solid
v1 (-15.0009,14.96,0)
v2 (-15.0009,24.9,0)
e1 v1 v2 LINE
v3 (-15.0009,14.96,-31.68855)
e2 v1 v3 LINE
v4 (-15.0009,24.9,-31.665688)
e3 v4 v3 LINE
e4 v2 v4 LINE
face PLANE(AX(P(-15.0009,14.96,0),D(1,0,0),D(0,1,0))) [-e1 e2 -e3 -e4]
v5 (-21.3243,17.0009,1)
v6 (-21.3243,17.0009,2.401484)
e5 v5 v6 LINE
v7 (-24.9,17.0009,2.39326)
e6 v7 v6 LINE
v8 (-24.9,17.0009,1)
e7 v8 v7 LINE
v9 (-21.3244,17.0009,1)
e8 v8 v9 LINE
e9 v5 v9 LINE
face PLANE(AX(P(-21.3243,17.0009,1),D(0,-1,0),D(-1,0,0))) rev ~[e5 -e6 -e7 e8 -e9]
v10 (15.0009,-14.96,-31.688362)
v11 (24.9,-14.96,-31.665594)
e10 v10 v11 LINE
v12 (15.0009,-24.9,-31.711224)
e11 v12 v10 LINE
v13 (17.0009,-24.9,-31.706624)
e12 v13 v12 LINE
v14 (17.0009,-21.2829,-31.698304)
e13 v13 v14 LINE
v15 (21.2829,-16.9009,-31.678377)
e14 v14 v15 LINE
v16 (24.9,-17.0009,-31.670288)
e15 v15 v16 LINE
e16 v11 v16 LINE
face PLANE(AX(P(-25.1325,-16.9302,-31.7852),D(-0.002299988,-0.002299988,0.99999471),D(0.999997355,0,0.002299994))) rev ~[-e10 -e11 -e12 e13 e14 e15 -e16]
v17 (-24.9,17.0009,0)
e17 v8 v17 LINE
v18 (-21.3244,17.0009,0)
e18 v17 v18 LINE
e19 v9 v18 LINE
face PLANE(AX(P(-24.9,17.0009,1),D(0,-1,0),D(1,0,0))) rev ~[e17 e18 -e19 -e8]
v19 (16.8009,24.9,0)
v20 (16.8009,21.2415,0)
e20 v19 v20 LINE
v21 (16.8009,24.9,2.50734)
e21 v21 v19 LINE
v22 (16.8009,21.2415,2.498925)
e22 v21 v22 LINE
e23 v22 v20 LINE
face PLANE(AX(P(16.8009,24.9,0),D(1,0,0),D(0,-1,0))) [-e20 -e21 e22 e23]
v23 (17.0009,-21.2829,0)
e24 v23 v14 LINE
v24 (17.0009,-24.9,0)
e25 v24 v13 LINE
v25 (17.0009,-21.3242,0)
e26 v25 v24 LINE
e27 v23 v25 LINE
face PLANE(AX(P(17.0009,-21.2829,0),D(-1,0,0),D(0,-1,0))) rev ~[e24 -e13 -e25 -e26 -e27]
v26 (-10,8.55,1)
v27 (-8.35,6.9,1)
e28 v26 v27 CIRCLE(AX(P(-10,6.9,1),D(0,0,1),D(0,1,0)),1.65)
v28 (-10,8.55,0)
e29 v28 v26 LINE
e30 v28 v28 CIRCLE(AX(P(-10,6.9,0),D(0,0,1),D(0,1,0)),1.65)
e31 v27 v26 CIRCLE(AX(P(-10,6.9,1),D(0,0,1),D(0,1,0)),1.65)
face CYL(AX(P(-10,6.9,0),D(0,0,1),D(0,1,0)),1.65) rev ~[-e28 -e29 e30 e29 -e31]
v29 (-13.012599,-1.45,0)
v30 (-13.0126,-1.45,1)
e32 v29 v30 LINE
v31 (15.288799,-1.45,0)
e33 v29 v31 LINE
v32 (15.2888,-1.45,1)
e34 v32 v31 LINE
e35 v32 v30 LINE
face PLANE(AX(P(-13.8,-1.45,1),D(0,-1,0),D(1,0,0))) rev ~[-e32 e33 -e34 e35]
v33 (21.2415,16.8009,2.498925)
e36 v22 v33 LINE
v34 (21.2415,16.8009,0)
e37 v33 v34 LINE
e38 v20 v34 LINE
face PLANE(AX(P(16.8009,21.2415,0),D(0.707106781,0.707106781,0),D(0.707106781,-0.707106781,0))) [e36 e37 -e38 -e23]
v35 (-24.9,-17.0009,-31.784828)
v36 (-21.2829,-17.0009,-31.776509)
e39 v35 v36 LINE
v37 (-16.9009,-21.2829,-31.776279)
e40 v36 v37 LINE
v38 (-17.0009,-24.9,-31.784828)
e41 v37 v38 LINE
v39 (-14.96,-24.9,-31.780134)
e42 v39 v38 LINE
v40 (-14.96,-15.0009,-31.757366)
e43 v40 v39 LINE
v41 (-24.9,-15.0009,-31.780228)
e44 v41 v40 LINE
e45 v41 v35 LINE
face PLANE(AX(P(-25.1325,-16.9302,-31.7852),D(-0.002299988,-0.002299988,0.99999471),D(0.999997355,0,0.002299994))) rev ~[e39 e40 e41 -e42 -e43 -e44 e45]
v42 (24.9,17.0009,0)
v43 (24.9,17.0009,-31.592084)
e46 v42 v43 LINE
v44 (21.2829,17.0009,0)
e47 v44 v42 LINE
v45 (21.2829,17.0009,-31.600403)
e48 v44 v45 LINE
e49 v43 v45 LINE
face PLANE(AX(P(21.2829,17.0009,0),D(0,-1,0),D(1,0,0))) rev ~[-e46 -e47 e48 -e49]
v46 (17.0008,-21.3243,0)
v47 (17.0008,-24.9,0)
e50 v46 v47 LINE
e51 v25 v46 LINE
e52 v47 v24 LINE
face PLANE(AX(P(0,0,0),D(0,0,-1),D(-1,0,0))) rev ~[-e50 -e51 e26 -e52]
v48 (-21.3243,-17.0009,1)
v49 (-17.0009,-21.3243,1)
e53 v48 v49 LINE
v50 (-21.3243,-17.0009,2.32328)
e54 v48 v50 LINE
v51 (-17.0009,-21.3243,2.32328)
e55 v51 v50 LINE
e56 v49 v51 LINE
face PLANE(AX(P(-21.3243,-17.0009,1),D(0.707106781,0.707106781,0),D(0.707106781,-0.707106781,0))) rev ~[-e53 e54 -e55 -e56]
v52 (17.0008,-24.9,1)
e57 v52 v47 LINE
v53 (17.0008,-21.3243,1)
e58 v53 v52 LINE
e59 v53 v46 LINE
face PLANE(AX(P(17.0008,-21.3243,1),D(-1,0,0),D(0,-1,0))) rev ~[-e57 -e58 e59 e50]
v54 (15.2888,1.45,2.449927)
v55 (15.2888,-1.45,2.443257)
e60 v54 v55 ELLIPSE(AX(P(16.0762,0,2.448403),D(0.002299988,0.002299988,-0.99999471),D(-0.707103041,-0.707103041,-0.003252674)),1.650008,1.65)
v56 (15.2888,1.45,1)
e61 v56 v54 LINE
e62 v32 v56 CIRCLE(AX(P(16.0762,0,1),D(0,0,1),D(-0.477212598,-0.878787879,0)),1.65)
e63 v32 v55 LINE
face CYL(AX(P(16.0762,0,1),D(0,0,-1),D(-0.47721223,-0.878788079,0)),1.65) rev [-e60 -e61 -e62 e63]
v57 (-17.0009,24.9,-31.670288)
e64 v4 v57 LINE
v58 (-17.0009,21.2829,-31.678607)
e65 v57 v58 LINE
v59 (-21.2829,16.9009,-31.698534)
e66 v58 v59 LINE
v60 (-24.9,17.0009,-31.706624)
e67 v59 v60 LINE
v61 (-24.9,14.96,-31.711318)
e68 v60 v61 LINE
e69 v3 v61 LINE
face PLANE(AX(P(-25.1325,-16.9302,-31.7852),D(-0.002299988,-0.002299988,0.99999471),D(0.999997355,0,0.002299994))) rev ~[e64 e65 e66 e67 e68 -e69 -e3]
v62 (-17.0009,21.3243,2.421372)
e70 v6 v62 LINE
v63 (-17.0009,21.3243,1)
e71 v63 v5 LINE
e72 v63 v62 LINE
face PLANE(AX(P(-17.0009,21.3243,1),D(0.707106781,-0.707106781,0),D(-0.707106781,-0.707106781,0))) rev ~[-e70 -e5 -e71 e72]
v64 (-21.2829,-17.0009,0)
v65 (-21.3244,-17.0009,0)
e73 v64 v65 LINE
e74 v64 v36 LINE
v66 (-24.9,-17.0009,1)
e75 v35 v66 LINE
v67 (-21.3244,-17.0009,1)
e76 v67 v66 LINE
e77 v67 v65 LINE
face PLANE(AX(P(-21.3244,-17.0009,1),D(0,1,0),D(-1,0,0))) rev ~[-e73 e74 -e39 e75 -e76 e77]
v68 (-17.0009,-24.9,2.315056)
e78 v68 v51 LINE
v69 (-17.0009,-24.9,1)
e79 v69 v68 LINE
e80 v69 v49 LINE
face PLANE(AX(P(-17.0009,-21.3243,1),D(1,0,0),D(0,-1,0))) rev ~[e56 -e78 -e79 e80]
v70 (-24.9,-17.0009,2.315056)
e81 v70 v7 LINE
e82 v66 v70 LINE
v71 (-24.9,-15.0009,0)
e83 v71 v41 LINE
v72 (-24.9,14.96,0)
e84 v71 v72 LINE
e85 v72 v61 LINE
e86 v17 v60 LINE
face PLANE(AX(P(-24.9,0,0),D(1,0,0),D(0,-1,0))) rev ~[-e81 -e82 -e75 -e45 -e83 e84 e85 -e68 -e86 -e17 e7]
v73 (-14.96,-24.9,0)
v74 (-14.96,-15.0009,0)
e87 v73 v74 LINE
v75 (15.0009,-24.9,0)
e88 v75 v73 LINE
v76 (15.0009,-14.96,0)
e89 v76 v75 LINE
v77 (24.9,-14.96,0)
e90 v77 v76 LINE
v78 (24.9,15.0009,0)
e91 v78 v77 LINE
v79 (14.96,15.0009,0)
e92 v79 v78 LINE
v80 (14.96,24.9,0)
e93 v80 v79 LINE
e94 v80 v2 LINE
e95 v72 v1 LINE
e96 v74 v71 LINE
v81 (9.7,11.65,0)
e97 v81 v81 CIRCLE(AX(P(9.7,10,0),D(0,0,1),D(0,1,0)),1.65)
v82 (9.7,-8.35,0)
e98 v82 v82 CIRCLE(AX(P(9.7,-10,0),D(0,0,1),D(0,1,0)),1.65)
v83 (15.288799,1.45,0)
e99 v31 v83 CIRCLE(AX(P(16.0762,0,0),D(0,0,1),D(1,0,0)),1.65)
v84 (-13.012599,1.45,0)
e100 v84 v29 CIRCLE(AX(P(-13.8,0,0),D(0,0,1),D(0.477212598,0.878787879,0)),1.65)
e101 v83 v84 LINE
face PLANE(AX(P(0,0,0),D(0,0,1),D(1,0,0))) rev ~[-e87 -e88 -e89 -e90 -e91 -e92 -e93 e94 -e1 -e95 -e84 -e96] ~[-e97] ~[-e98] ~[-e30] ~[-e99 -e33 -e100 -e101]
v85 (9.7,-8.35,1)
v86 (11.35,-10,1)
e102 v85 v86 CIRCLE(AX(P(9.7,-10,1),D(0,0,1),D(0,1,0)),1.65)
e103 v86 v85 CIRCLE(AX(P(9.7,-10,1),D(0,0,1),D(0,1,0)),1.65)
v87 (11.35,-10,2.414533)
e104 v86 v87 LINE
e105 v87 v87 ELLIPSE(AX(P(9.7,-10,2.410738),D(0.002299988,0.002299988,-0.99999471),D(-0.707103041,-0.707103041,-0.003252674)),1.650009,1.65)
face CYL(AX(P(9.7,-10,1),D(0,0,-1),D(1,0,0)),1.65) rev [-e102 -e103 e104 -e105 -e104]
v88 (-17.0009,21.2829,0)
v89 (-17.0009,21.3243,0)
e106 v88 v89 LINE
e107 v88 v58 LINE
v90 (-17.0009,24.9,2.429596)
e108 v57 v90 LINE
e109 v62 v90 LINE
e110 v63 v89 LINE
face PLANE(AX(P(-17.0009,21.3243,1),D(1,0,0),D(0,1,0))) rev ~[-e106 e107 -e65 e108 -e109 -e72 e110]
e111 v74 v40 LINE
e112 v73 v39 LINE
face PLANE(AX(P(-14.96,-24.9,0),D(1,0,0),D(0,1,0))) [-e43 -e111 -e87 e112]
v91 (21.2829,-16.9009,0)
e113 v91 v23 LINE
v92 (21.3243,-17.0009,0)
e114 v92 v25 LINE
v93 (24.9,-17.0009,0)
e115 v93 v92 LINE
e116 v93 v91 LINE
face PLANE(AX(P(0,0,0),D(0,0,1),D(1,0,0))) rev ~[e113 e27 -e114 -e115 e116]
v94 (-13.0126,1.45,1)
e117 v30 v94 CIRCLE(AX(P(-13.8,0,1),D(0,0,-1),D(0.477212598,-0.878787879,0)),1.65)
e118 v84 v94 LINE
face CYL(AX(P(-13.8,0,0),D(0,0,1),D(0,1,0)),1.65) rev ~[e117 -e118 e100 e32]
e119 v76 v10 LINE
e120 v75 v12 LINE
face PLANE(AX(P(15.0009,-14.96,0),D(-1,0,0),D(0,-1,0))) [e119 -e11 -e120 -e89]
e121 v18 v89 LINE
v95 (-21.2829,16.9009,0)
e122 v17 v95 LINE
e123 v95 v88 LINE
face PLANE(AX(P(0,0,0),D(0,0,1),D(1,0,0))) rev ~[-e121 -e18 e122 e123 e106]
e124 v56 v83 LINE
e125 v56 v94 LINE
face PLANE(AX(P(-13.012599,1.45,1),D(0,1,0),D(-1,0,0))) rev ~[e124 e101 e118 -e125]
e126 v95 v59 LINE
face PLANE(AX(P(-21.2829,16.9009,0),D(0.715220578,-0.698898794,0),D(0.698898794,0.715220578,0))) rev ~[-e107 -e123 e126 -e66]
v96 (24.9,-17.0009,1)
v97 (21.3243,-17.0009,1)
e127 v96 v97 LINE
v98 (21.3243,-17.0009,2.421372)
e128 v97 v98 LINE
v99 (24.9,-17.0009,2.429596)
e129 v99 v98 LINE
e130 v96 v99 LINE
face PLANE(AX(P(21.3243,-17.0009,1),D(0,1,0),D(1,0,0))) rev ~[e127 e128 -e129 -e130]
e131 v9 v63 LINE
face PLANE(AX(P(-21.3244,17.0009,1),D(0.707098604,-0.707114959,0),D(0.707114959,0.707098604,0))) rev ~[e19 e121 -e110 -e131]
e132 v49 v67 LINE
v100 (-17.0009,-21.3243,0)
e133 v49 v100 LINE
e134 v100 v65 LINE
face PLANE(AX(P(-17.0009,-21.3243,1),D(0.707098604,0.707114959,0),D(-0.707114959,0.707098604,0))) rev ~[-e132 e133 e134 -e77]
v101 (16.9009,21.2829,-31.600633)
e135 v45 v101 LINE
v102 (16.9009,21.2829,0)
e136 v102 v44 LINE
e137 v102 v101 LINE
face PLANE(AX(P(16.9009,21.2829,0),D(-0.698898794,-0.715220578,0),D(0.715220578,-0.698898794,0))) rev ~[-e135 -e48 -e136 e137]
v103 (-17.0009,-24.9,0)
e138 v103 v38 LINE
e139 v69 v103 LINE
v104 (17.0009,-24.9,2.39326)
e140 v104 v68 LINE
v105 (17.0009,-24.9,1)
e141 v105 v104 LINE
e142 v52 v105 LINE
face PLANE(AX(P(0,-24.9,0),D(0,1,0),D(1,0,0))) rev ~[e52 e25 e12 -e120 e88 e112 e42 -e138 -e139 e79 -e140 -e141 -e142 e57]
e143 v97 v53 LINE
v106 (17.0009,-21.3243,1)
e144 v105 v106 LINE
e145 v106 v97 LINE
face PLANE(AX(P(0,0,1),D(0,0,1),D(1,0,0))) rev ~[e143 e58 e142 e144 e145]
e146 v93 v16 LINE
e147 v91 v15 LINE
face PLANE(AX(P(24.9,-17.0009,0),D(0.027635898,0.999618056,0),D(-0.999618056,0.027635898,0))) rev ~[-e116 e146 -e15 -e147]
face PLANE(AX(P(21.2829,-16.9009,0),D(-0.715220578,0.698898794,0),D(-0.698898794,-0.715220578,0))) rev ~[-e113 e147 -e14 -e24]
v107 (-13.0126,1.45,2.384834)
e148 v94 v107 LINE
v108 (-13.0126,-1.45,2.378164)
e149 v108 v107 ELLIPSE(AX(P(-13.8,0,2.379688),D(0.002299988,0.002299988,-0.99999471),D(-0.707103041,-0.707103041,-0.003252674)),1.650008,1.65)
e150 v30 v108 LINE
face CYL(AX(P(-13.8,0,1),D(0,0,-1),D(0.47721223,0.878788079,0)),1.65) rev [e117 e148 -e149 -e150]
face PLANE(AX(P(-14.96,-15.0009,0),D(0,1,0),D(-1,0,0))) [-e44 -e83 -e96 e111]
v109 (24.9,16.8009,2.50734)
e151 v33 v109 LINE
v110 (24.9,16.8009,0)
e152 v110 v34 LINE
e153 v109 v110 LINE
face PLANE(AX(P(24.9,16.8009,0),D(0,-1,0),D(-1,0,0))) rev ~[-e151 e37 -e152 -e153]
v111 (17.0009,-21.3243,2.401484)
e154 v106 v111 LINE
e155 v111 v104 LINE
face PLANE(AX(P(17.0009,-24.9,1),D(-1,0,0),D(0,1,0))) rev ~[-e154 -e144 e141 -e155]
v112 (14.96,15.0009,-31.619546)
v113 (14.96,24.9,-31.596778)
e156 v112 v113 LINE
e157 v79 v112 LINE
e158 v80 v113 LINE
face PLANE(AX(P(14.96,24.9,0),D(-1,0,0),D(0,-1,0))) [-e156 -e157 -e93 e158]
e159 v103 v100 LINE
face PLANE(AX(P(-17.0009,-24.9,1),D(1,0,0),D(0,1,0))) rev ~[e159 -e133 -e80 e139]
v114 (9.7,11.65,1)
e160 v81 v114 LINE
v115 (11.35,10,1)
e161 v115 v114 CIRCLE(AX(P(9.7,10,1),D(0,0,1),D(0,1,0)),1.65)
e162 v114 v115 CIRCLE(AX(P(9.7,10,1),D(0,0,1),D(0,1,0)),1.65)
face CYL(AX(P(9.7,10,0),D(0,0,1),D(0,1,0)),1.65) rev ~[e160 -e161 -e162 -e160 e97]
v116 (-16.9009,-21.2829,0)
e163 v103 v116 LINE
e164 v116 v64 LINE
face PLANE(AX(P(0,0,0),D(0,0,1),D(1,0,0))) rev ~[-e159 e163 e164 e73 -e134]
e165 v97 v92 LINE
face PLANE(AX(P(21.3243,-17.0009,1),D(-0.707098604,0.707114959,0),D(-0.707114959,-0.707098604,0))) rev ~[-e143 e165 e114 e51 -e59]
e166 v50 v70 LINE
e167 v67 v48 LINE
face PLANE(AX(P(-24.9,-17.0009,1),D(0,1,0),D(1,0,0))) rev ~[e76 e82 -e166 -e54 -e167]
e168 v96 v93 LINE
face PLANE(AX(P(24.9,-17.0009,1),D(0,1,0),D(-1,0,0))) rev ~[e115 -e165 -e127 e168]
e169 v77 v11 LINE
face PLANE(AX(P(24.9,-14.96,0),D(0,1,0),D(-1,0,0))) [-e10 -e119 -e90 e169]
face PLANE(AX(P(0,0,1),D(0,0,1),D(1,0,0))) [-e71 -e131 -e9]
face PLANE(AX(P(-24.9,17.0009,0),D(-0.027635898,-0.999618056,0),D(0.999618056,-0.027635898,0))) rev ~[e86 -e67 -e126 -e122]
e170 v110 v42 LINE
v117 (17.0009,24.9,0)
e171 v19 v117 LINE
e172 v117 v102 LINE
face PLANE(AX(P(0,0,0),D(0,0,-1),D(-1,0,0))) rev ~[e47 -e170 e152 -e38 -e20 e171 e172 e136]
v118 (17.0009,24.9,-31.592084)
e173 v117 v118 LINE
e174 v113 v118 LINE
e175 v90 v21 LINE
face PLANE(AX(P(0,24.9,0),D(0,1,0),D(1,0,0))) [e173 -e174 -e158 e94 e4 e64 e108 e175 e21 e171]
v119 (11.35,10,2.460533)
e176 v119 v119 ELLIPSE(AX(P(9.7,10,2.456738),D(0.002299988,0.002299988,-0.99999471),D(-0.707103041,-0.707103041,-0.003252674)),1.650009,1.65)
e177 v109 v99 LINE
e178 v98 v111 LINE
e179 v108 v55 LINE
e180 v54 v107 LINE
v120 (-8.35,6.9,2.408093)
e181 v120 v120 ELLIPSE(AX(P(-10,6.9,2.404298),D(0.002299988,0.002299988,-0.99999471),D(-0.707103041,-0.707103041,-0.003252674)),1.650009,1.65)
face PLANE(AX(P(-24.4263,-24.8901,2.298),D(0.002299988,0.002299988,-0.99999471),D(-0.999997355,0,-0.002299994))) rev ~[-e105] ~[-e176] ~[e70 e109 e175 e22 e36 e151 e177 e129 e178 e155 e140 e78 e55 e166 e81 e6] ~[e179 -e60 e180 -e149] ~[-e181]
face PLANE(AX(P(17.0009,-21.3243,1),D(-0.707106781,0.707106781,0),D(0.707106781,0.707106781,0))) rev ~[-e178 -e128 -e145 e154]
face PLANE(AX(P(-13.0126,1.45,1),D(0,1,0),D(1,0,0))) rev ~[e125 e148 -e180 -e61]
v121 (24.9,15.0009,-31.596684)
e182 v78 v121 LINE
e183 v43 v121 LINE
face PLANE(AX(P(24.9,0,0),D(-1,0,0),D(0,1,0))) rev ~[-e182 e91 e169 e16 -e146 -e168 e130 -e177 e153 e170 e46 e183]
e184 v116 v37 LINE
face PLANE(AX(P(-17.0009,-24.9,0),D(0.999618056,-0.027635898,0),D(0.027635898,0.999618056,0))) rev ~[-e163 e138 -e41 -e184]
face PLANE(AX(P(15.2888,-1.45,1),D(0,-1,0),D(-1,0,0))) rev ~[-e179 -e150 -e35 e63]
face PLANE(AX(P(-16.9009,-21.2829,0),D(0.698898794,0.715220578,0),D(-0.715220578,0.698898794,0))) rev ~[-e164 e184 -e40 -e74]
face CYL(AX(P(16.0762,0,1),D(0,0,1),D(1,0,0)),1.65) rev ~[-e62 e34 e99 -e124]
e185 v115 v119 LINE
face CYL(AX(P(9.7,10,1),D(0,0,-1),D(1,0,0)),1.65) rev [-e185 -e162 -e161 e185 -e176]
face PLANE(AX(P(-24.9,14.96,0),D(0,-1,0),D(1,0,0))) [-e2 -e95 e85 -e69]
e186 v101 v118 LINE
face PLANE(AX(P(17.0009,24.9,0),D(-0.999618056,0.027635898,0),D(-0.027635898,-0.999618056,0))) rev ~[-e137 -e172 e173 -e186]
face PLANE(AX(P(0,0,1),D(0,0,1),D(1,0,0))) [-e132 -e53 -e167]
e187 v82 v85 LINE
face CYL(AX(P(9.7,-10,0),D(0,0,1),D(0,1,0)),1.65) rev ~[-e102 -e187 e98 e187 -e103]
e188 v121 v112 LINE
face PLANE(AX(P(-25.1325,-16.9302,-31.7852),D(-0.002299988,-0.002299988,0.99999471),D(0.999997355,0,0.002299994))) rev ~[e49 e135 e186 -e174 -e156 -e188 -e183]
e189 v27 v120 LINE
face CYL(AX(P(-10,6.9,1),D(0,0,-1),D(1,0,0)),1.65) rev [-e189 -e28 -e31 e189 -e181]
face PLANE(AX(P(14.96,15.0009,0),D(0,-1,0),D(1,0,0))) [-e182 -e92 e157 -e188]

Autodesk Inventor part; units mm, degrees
ref_plane "Work Plane1" through (-29.1, -14.5, 2.4) normal (0, 0, -1) x (0, 1, 0)
ref_plane "Work Plane2" through (-13.8999, -10.5497, 2.25) normal (0, 0, -1) x (0, 1, 0)
ref_plane "Work Plane4" through (-17.3325, -17.0101, 2.3331) normal (0.0023, 0.0023, -1) x (0, 1, 0.0023)
sketch "Sketch1" plane through (0, 0, 0) normal (0, 0, 1) x (1, 0, 0)
  line L0 (-34.86, 0) -> (34.86, 0) construction
  line L1 (0, -34.86) -> (0, 34.86) construction
  line L2 (0, 0) -> (11.1575, 11.1575) construction
  line L3 (0, 0) -> (15.7791, 0) construction
  line L4 (0, 24.9) -> (16.8009, 24.9)
  line L5 (16.8009, 24.9) -> (16.8009, 21.2415)
  line L6 (16.8009, 21.2415) -> (19.0212, 19.0212)
  line L7 (24.9, 0) -> (24.9, 16.8009)
  line L8 (24.9, 16.8009) -> (21.2415, 16.8009)
  line L9 (21.2415, 16.8009) -> (19.0212, 19.0212)
  line L10 (0, -24.9) -> (16.8009, -24.9)
  line L11 (16.8009, -24.9) -> (16.8009, -21.2415)
  line L12 (16.8009, -21.2415) -> (19.0212, -19.0212)
  line L13 (24.9, 0) -> (24.9, -16.8009)
  line L14 (24.9, -16.8009) -> (21.2415, -16.8009)
  line L15 (21.2415, -16.8009) -> (19.0212, -19.0212)
  line L16 (0, 24.9) -> (-16.8009, 24.9)
  line L17 (-16.8009, 24.9) -> (-16.8009, 21.2415)
  line L18 (-16.8009, 21.2415) -> (-19.0212, 19.0212)
  line L19 (-24.9, 16.8009) -> (-21.2415, 16.8009)
  line L20 (-21.2415, 16.8009) -> (-19.0212, 19.0212)
  line L21 (0, -24.9) -> (-16.8009, -24.9)
  line L22 (-16.8009, -24.9) -> (-16.8009, -21.2415)
  line L23 (-16.8009, -21.2415) -> (-19.0212, -19.0212)
  line L24 (-21.2415, -16.8009) -> (-19.0212, -19.0212)
  line L25 (-24.9, -16.8009) -> (-21.2415, -16.8009)
  line L26 (-24.9, 0) -> (-24.9, -16.8009)
  line L27 (-24.9, 0) -> (-24.9, 16.8009)
  circle A0 centre (0, 0) radius 10
  dimension "d0" = 45
  dimension "d2" = 24.9
  dimension "d3" = 3.14
  dimension "d4" = 26.9
  dimension "d5" = 20
extrude "Extrusion1" add sketch "Sketch1" along normal blind 1 contours L4 L5 L6 L9 L8 L7 L13 L14 L15 L12 L11 L10 L21 L22 L23 L24 L25 L26 L27 L19 L20 L18 L17 L16 | A0
sketch "Sketch5" plane through (0, 0, 0) normal (0, 0, -1) x (-1, 0, 0)
  circle A0 centre (-9.7, 10) radius 1.4
  circle A1 centre (-9.7, -10) radius 1.4
  circle A2 centre (13.8, 0) radius 1.4
  circle A3 centre (-10, 6.9) radius 0.75
  circle A4 centre (10, 6.9) radius 1.25
  point P0 (0, 0)
hole "Hole1" at (-13.8, 0, 0) at (9.7, -10, 0) at (-10, 6.9, 0) at (9.7, 10, 0) direction (0, 0, 1) diameter 3.3 depth 12 tip angle 118
sketch "Skizze6" plane through (-16.8009, 24.9, 1) normal (0, 0, 1) x (1, 0, 0)
  circle A0 centre (6.8009, -18) radius 1.65 construction
  circle A1 centre (3.0009, -24.9) radius 1.65 construction
  circle A2 centre (26.5009, -34.9) radius 1.65 construction
  circle A3 centre (26.5009, -14.9) radius 1.65 construction
  line L0 (33.6017, -3.6585) -> (33.6017, 0) projected
  line L1 (33.6017, 0) -> (0, 0) construction
  line L2 (0, 0) -> (0, -3.6585) projected
  line L3 (0, -3.6585) -> (-4.4406, -8.0991) projected
  line L4 (-4.4406, -8.0991) -> (-8.0991, -8.0991) projected
  line L5 (-8.0991, -8.0991) -> (-8.0991, -41.7009) construction
  line L6 (-8.0991, -41.7009) -> (-4.4406, -41.7009) projected
  line L7 (-4.4406, -41.7009) -> (0, -46.1415) projected
  line L8 (0, -46.1415) -> (0, -49.8) projected
  line L9 (0, -49.8) -> (33.6017, -49.8) construction
  line L10 (33.6017, -49.8) -> (33.6017, -46.1415) projected
  line L11 (33.6017, -46.1415) -> (38.0423, -41.7009) projected
  line L12 (38.0423, -41.7009) -> (41.7009, -41.7009) projected
  line L13 (41.7009, -41.7009) -> (41.7009, -8.0991) construction
  line L14 (41.7009, -8.0991) -> (38.0423, -8.0991) projected
  line L15 (38.0423, -8.0991) -> (33.6017, -3.6585) projected
  line L16 (-0.2, 0.2) -> (33.8017, 0.2) construction
  line L17 (33.8017, 0.2) -> (33.8017, -3.5757)
  line L18 (33.8017, -3.5757) -> (38.1252, -7.8991)
  line L19 (38.1252, -7.8991) -> (41.9009, -7.8991)
  line L20 (41.9009, -7.8991) -> (41.9009, -41.9009) construction
  line L21 (41.9009, -41.9009) -> (38.1252, -41.9009)
  line L22 (38.1252, -41.9009) -> (33.8017, -46.2243)
  line L23 (33.8017, -46.2243) -> (33.8017, -50)
  line L24 (33.8017, -50) -> (-0.2, -50) construction
  line L25 (-0.2, -50) -> (-0.2, -46.2243)
  line L26 (-0.2, -46.2243) -> (-4.5235, -41.9009)
  line L27 (-4.5235, -41.9009) -> (-8.2991, -41.9009)
  line L28 (-8.2991, -41.9009) -> (-8.2991, -7.8991) construction
  line L29 (-8.2991, -7.8991) -> (-4.5235, -7.8991)
  line L30 (-4.5235, -7.8991) -> (-0.2, -3.5757)
  line L31 (-0.2, -3.5757) -> (-0.2, 0.2)
  line L32 (-8.0991, -8.0991) -> (-8.0991, -7.8991)
  line L33 (0, 0) -> (-0.2, 0)
  line L34 (33.6017, 0) -> (33.8017, 0)
  line L35 (41.7009, -8.0991) -> (38.0423, -8.0991) projected
  line L36 (41.7009, -8.0991) -> (41.7009, -7.8991)
  line L37 (41.7009, -41.7009) -> (41.7009, -41.9009)
  line L38 (33.6017, -49.8) -> (33.8017, -49.8)
  line L39 (-8.0991, -41.7009) -> (-8.0991, -41.9009)
  line L40 (0, -49.8) -> (-0.2, -49.8)
  point P0 (16.8009, -24.9)
  dimension "d25" = 0.2
extrude "IM_offset" add sketch "Skizze6" against normal blind 1 contours L2 L3 L4 L32 L29 L30 L31 L33 | L6 L7 L8 L40 L25 L26 L27 L39 | L10 L11 L12 L37 L21 L22 L23 L38
sketch "Sketch7" plane through (-24.9, 16.9009, 1) normal (0, 0, 1) x (1, 0, 0)
  circle A0 centre (11.1, -16.9009) radius 1.65
  line L0 (11.1, -16.9009) -> (40.9762, -16.9009) construction
  line L1 (11.1, -18.3509) -> (40.9762, -18.3509)
  line L2 (40.9762, -15.4509) -> (11.1, -15.4509)
  arc A1 (11.1, -15.4509) -> (11.1, -18.3509) centre (11.1, -16.9009) ccw
  arc A2 (40.9762, -18.3509) -> (40.9762, -15.4509) centre (40.9762, -16.9009) ccw
  circle A3 centre (40.9762, -16.9009) radius 1.65
  point P0 (24.9, -16.9009)
  point P1 (26.0381, -16.9009)
  dimension "d28" = 2.9
extrude "Extrusion6" cut sketch "Sketch7" against normal blind 10 contours A0 L1 A1 L2 | A0 L2 A3 L1 | A3 L1 A2 L2 | L2 A2 L1 A3 picked at (11.65, -16.9009)
ref_plane "Work Plane3" through (-24.85, -16.97, -31.85) normal (0, 0, 1) x (1, 0, 0)
sketch "Sketch9" plane through (0, 0, 0) normal (0, 0, -1) x (-1, 0, 0)
  line L0 (21.2829, 16.9009) -> (17.0009, 21.2829)
  line L1 (17.0009, 21.2829) -> (17.0009, 24.9)
  line L2 (24.9, 17.0009) -> (21.2829, 16.9009)
  line L3 (24.9, -17.0009) -> (24.9, 17.0009) projected
  line L4 (17.0009, 24.9) -> (-16.8009, 24.9) projected
  line L5 (24.9, 14.96) -> (15.0009, 14.96)
  line L6 (15.0009, 14.96) -> (15.0009, 24.9)
  line L7 (15.0009, 24.9) -> (17.0009, 24.9)
  line L8 (24.9, 17.0009) -> (24.9, 14.96)
  line L9 (-16.9009, 21.2829) -> (-21.2829, 17.0009)
  line L10 (-21.2829, 17.0009) -> (-24.9, 17.0009)
  line L11 (-17.0009, 24.9) -> (-16.9009, 21.2829)
  line L12 (-14.96, 24.9) -> (-14.96, 15.0009)
  line L13 (-14.96, 15.0009) -> (-24.9, 15.0009)
  line L14 (-24.9, 15.0009) -> (-24.9, 17.0009)
  line L15 (-17.0009, 24.9) -> (-14.96, 24.9)
  line L16 (-21.2829, -16.9009) -> (-17.0009, -21.2829)
  line L17 (-17.0009, -21.2829) -> (-17.0009, -24.9)
  line L18 (-24.9, -17.0009) -> (-21.2829, -16.9009)
  line L19 (-24.9, -14.96) -> (-15.0009, -14.96)
  line L20 (-15.0009, -14.96) -> (-15.0009, -24.9)
  line L21 (-15.0009, -24.9) -> (-17.0009, -24.9)
  line L22 (-24.9, -17.0009) -> (-24.9, -14.96)
  line L23 (16.9009, -21.2829) -> (21.2829, -17.0009)
  line L24 (21.2829, -17.0009) -> (24.9, -17.0009)
  line L25 (17.0009, -24.9) -> (16.9009, -21.2829)
  line L26 (14.96, -24.9) -> (14.96, -15.0009)
  line L27 (14.96, -15.0009) -> (24.9, -15.0009)
  line L28 (24.9, -15.0009) -> (24.9, -17.0009)
  line L29 (17.0009, -24.9) -> (14.96, -24.9)
  point P0 (0, 0)
  dimension "d44" = 2
  dimension "d47" = 360
ref_plane "Work Plane5" through (-25.1325, -16.9302, -31.7852) normal (-0.0023, -0.0023, 1) x (1, 0, 0.0023)
extrude "Extrusion9" add sketch "Sketch9" along normal up to surface surface through (-25.1325, -16.9302, -31.7852) normal (-0.0023, -0.0023, 1)
ref_plane "Work Plane6" through (-16.5464, -17.0101, 2.3349) normal (0.0023, 0.0023, -1) x (0, 1, 0.0023)
sketch "Sketch11" plane through (0, 0, 1) normal (0, 0, 1) x (1, 0, 0)
  circle A0 centre (-10, 6.9) radius 1.65 projected
  circle A1 centre (9.7, 10) radius 1.65 projected
  circle A2 centre (9.7, -10) radius 1.65 projected
  arc A3 (-13.0126, 1.45) -> (-13.0126, -1.45) centre (-13.8, 0) ccw projected
  line L0 (-13.0126, 1.45) -> (15.2888, 1.45) projected
  line L1 (15.2888, -1.45) -> (-13.0126, -1.45) projected
  arc A4 (15.2888, -1.45) -> (15.2888, 1.45) centre (16.0762, 0) ccw projected
  line L2 (16.8009, 24.9) -> (-17.0009, 24.9) projected
  line L3 (-17.0009, 24.9) -> (-17.0009, 21.3243) projected
  line L4 (-17.0009, 21.3243) -> (-21.3243, 17.0009) projected
  line L5 (-21.3243, 17.0009) -> (-24.9, 17.0009) projected
  line L6 (-24.9, 17.0009) -> (-24.9, -17.0009) projected
  line L7 (-24.9, -17.0009) -> (-21.3243, -17.0009) projected
  line L8 (-21.3243, -17.0009) -> (-17.0009, -21.3243) projected
  line L9 (-17.0009, -21.3243) -> (-17.0009, -24.9) projected
  line L10 (-17.0009, -24.9) -> (17.0009, -24.9) projected
  line L11 (17.0009, -24.9) -> (17.0009, -21.3243) projected
  line L12 (17.0009, -21.3243) -> (21.3243, -17.0009) projected
  line L13 (21.3243, -17.0009) -> (24.9, -17.0009) projected
  line L14 (24.9, -17.0009) -> (24.9, 16.8009) projected
  line L15 (24.9, 16.8009) -> (21.2415, 16.8009) projected
  line L16 (21.2415, 16.8009) -> (16.8009, 21.2415) projected
  line L17 (16.8009, 21.2415) -> (16.8009, 24.9) projected
  circle A5 centre (9.7, 10) radius 1.65 projected
  circle A6 centre (9.7, -10) radius 1.65 projected
  line L18 (-13.0126, 1.45) -> (15.2888, 1.45) projected
  arc A7 (15.2888, -1.45) -> (15.2888, 1.45) centre (16.0762, 0) ccw projected
  line L19 (15.2888, -1.45) -> (-13.0126, -1.45) projected
  arc A8 (-13.0126, 1.45) -> (-13.0126, -1.45) centre (-13.8, 0) ccw projected
  circle A9 centre (-10, 6.9) radius 1.65 projected
  point P0 (0, 0)
ref_plane "Work Plane7" through (-24.4263, -24.8901, 2.298) normal (0.0023, 0.0023, -1) x (0, 1, 0.0023)
extrude "Extrusion11" add sketch "Sketch11" along normal up to surface surface through (-24.4263, -24.8901, 2.298) normal (0.0023, 0.0023, -1)
sketch "Sketch12" plane through (-24.9, -17.0009, 2.3154) normal (-0.0023, -0.0023, 1) x (1, 0, 0.0023)
  ellipse E0 centre (33.8151, 6.927) end of major axis (35.3151, 6.927) minor radius 1.5
  ellipse E1 centre (33.8151, 26.9269) end of major axis (35.3151, 26.9269) minor radius 1.5
  ellipse E2 centre (10.1152, 16.9269) end of major axis (11.6152, 16.9269) minor radius 1.5
  point P0 (24.8944, 16.9954)
equation "\"BendRadius\" = Thickness"
equation "\"BendReliefWidth\" = Thickness"
equation "\"BendReliefDepth\" = 0.5 * Thickness"
equation "\"CornerReliefSize\" = 4 * Thickness"
equation "\"MinimumRemnant\" = 2 * Thickness"
equation "\"TransitionRadius\" = BendRadius"
equation "\"JacobiRadiusSize\" = Thickness"
equation "\"GapSize\" = Thickness"
equation "\"Thickness\" = 0.5"
properties part number "20_Cube_insert_AlliedVision_Alvium_v3"
